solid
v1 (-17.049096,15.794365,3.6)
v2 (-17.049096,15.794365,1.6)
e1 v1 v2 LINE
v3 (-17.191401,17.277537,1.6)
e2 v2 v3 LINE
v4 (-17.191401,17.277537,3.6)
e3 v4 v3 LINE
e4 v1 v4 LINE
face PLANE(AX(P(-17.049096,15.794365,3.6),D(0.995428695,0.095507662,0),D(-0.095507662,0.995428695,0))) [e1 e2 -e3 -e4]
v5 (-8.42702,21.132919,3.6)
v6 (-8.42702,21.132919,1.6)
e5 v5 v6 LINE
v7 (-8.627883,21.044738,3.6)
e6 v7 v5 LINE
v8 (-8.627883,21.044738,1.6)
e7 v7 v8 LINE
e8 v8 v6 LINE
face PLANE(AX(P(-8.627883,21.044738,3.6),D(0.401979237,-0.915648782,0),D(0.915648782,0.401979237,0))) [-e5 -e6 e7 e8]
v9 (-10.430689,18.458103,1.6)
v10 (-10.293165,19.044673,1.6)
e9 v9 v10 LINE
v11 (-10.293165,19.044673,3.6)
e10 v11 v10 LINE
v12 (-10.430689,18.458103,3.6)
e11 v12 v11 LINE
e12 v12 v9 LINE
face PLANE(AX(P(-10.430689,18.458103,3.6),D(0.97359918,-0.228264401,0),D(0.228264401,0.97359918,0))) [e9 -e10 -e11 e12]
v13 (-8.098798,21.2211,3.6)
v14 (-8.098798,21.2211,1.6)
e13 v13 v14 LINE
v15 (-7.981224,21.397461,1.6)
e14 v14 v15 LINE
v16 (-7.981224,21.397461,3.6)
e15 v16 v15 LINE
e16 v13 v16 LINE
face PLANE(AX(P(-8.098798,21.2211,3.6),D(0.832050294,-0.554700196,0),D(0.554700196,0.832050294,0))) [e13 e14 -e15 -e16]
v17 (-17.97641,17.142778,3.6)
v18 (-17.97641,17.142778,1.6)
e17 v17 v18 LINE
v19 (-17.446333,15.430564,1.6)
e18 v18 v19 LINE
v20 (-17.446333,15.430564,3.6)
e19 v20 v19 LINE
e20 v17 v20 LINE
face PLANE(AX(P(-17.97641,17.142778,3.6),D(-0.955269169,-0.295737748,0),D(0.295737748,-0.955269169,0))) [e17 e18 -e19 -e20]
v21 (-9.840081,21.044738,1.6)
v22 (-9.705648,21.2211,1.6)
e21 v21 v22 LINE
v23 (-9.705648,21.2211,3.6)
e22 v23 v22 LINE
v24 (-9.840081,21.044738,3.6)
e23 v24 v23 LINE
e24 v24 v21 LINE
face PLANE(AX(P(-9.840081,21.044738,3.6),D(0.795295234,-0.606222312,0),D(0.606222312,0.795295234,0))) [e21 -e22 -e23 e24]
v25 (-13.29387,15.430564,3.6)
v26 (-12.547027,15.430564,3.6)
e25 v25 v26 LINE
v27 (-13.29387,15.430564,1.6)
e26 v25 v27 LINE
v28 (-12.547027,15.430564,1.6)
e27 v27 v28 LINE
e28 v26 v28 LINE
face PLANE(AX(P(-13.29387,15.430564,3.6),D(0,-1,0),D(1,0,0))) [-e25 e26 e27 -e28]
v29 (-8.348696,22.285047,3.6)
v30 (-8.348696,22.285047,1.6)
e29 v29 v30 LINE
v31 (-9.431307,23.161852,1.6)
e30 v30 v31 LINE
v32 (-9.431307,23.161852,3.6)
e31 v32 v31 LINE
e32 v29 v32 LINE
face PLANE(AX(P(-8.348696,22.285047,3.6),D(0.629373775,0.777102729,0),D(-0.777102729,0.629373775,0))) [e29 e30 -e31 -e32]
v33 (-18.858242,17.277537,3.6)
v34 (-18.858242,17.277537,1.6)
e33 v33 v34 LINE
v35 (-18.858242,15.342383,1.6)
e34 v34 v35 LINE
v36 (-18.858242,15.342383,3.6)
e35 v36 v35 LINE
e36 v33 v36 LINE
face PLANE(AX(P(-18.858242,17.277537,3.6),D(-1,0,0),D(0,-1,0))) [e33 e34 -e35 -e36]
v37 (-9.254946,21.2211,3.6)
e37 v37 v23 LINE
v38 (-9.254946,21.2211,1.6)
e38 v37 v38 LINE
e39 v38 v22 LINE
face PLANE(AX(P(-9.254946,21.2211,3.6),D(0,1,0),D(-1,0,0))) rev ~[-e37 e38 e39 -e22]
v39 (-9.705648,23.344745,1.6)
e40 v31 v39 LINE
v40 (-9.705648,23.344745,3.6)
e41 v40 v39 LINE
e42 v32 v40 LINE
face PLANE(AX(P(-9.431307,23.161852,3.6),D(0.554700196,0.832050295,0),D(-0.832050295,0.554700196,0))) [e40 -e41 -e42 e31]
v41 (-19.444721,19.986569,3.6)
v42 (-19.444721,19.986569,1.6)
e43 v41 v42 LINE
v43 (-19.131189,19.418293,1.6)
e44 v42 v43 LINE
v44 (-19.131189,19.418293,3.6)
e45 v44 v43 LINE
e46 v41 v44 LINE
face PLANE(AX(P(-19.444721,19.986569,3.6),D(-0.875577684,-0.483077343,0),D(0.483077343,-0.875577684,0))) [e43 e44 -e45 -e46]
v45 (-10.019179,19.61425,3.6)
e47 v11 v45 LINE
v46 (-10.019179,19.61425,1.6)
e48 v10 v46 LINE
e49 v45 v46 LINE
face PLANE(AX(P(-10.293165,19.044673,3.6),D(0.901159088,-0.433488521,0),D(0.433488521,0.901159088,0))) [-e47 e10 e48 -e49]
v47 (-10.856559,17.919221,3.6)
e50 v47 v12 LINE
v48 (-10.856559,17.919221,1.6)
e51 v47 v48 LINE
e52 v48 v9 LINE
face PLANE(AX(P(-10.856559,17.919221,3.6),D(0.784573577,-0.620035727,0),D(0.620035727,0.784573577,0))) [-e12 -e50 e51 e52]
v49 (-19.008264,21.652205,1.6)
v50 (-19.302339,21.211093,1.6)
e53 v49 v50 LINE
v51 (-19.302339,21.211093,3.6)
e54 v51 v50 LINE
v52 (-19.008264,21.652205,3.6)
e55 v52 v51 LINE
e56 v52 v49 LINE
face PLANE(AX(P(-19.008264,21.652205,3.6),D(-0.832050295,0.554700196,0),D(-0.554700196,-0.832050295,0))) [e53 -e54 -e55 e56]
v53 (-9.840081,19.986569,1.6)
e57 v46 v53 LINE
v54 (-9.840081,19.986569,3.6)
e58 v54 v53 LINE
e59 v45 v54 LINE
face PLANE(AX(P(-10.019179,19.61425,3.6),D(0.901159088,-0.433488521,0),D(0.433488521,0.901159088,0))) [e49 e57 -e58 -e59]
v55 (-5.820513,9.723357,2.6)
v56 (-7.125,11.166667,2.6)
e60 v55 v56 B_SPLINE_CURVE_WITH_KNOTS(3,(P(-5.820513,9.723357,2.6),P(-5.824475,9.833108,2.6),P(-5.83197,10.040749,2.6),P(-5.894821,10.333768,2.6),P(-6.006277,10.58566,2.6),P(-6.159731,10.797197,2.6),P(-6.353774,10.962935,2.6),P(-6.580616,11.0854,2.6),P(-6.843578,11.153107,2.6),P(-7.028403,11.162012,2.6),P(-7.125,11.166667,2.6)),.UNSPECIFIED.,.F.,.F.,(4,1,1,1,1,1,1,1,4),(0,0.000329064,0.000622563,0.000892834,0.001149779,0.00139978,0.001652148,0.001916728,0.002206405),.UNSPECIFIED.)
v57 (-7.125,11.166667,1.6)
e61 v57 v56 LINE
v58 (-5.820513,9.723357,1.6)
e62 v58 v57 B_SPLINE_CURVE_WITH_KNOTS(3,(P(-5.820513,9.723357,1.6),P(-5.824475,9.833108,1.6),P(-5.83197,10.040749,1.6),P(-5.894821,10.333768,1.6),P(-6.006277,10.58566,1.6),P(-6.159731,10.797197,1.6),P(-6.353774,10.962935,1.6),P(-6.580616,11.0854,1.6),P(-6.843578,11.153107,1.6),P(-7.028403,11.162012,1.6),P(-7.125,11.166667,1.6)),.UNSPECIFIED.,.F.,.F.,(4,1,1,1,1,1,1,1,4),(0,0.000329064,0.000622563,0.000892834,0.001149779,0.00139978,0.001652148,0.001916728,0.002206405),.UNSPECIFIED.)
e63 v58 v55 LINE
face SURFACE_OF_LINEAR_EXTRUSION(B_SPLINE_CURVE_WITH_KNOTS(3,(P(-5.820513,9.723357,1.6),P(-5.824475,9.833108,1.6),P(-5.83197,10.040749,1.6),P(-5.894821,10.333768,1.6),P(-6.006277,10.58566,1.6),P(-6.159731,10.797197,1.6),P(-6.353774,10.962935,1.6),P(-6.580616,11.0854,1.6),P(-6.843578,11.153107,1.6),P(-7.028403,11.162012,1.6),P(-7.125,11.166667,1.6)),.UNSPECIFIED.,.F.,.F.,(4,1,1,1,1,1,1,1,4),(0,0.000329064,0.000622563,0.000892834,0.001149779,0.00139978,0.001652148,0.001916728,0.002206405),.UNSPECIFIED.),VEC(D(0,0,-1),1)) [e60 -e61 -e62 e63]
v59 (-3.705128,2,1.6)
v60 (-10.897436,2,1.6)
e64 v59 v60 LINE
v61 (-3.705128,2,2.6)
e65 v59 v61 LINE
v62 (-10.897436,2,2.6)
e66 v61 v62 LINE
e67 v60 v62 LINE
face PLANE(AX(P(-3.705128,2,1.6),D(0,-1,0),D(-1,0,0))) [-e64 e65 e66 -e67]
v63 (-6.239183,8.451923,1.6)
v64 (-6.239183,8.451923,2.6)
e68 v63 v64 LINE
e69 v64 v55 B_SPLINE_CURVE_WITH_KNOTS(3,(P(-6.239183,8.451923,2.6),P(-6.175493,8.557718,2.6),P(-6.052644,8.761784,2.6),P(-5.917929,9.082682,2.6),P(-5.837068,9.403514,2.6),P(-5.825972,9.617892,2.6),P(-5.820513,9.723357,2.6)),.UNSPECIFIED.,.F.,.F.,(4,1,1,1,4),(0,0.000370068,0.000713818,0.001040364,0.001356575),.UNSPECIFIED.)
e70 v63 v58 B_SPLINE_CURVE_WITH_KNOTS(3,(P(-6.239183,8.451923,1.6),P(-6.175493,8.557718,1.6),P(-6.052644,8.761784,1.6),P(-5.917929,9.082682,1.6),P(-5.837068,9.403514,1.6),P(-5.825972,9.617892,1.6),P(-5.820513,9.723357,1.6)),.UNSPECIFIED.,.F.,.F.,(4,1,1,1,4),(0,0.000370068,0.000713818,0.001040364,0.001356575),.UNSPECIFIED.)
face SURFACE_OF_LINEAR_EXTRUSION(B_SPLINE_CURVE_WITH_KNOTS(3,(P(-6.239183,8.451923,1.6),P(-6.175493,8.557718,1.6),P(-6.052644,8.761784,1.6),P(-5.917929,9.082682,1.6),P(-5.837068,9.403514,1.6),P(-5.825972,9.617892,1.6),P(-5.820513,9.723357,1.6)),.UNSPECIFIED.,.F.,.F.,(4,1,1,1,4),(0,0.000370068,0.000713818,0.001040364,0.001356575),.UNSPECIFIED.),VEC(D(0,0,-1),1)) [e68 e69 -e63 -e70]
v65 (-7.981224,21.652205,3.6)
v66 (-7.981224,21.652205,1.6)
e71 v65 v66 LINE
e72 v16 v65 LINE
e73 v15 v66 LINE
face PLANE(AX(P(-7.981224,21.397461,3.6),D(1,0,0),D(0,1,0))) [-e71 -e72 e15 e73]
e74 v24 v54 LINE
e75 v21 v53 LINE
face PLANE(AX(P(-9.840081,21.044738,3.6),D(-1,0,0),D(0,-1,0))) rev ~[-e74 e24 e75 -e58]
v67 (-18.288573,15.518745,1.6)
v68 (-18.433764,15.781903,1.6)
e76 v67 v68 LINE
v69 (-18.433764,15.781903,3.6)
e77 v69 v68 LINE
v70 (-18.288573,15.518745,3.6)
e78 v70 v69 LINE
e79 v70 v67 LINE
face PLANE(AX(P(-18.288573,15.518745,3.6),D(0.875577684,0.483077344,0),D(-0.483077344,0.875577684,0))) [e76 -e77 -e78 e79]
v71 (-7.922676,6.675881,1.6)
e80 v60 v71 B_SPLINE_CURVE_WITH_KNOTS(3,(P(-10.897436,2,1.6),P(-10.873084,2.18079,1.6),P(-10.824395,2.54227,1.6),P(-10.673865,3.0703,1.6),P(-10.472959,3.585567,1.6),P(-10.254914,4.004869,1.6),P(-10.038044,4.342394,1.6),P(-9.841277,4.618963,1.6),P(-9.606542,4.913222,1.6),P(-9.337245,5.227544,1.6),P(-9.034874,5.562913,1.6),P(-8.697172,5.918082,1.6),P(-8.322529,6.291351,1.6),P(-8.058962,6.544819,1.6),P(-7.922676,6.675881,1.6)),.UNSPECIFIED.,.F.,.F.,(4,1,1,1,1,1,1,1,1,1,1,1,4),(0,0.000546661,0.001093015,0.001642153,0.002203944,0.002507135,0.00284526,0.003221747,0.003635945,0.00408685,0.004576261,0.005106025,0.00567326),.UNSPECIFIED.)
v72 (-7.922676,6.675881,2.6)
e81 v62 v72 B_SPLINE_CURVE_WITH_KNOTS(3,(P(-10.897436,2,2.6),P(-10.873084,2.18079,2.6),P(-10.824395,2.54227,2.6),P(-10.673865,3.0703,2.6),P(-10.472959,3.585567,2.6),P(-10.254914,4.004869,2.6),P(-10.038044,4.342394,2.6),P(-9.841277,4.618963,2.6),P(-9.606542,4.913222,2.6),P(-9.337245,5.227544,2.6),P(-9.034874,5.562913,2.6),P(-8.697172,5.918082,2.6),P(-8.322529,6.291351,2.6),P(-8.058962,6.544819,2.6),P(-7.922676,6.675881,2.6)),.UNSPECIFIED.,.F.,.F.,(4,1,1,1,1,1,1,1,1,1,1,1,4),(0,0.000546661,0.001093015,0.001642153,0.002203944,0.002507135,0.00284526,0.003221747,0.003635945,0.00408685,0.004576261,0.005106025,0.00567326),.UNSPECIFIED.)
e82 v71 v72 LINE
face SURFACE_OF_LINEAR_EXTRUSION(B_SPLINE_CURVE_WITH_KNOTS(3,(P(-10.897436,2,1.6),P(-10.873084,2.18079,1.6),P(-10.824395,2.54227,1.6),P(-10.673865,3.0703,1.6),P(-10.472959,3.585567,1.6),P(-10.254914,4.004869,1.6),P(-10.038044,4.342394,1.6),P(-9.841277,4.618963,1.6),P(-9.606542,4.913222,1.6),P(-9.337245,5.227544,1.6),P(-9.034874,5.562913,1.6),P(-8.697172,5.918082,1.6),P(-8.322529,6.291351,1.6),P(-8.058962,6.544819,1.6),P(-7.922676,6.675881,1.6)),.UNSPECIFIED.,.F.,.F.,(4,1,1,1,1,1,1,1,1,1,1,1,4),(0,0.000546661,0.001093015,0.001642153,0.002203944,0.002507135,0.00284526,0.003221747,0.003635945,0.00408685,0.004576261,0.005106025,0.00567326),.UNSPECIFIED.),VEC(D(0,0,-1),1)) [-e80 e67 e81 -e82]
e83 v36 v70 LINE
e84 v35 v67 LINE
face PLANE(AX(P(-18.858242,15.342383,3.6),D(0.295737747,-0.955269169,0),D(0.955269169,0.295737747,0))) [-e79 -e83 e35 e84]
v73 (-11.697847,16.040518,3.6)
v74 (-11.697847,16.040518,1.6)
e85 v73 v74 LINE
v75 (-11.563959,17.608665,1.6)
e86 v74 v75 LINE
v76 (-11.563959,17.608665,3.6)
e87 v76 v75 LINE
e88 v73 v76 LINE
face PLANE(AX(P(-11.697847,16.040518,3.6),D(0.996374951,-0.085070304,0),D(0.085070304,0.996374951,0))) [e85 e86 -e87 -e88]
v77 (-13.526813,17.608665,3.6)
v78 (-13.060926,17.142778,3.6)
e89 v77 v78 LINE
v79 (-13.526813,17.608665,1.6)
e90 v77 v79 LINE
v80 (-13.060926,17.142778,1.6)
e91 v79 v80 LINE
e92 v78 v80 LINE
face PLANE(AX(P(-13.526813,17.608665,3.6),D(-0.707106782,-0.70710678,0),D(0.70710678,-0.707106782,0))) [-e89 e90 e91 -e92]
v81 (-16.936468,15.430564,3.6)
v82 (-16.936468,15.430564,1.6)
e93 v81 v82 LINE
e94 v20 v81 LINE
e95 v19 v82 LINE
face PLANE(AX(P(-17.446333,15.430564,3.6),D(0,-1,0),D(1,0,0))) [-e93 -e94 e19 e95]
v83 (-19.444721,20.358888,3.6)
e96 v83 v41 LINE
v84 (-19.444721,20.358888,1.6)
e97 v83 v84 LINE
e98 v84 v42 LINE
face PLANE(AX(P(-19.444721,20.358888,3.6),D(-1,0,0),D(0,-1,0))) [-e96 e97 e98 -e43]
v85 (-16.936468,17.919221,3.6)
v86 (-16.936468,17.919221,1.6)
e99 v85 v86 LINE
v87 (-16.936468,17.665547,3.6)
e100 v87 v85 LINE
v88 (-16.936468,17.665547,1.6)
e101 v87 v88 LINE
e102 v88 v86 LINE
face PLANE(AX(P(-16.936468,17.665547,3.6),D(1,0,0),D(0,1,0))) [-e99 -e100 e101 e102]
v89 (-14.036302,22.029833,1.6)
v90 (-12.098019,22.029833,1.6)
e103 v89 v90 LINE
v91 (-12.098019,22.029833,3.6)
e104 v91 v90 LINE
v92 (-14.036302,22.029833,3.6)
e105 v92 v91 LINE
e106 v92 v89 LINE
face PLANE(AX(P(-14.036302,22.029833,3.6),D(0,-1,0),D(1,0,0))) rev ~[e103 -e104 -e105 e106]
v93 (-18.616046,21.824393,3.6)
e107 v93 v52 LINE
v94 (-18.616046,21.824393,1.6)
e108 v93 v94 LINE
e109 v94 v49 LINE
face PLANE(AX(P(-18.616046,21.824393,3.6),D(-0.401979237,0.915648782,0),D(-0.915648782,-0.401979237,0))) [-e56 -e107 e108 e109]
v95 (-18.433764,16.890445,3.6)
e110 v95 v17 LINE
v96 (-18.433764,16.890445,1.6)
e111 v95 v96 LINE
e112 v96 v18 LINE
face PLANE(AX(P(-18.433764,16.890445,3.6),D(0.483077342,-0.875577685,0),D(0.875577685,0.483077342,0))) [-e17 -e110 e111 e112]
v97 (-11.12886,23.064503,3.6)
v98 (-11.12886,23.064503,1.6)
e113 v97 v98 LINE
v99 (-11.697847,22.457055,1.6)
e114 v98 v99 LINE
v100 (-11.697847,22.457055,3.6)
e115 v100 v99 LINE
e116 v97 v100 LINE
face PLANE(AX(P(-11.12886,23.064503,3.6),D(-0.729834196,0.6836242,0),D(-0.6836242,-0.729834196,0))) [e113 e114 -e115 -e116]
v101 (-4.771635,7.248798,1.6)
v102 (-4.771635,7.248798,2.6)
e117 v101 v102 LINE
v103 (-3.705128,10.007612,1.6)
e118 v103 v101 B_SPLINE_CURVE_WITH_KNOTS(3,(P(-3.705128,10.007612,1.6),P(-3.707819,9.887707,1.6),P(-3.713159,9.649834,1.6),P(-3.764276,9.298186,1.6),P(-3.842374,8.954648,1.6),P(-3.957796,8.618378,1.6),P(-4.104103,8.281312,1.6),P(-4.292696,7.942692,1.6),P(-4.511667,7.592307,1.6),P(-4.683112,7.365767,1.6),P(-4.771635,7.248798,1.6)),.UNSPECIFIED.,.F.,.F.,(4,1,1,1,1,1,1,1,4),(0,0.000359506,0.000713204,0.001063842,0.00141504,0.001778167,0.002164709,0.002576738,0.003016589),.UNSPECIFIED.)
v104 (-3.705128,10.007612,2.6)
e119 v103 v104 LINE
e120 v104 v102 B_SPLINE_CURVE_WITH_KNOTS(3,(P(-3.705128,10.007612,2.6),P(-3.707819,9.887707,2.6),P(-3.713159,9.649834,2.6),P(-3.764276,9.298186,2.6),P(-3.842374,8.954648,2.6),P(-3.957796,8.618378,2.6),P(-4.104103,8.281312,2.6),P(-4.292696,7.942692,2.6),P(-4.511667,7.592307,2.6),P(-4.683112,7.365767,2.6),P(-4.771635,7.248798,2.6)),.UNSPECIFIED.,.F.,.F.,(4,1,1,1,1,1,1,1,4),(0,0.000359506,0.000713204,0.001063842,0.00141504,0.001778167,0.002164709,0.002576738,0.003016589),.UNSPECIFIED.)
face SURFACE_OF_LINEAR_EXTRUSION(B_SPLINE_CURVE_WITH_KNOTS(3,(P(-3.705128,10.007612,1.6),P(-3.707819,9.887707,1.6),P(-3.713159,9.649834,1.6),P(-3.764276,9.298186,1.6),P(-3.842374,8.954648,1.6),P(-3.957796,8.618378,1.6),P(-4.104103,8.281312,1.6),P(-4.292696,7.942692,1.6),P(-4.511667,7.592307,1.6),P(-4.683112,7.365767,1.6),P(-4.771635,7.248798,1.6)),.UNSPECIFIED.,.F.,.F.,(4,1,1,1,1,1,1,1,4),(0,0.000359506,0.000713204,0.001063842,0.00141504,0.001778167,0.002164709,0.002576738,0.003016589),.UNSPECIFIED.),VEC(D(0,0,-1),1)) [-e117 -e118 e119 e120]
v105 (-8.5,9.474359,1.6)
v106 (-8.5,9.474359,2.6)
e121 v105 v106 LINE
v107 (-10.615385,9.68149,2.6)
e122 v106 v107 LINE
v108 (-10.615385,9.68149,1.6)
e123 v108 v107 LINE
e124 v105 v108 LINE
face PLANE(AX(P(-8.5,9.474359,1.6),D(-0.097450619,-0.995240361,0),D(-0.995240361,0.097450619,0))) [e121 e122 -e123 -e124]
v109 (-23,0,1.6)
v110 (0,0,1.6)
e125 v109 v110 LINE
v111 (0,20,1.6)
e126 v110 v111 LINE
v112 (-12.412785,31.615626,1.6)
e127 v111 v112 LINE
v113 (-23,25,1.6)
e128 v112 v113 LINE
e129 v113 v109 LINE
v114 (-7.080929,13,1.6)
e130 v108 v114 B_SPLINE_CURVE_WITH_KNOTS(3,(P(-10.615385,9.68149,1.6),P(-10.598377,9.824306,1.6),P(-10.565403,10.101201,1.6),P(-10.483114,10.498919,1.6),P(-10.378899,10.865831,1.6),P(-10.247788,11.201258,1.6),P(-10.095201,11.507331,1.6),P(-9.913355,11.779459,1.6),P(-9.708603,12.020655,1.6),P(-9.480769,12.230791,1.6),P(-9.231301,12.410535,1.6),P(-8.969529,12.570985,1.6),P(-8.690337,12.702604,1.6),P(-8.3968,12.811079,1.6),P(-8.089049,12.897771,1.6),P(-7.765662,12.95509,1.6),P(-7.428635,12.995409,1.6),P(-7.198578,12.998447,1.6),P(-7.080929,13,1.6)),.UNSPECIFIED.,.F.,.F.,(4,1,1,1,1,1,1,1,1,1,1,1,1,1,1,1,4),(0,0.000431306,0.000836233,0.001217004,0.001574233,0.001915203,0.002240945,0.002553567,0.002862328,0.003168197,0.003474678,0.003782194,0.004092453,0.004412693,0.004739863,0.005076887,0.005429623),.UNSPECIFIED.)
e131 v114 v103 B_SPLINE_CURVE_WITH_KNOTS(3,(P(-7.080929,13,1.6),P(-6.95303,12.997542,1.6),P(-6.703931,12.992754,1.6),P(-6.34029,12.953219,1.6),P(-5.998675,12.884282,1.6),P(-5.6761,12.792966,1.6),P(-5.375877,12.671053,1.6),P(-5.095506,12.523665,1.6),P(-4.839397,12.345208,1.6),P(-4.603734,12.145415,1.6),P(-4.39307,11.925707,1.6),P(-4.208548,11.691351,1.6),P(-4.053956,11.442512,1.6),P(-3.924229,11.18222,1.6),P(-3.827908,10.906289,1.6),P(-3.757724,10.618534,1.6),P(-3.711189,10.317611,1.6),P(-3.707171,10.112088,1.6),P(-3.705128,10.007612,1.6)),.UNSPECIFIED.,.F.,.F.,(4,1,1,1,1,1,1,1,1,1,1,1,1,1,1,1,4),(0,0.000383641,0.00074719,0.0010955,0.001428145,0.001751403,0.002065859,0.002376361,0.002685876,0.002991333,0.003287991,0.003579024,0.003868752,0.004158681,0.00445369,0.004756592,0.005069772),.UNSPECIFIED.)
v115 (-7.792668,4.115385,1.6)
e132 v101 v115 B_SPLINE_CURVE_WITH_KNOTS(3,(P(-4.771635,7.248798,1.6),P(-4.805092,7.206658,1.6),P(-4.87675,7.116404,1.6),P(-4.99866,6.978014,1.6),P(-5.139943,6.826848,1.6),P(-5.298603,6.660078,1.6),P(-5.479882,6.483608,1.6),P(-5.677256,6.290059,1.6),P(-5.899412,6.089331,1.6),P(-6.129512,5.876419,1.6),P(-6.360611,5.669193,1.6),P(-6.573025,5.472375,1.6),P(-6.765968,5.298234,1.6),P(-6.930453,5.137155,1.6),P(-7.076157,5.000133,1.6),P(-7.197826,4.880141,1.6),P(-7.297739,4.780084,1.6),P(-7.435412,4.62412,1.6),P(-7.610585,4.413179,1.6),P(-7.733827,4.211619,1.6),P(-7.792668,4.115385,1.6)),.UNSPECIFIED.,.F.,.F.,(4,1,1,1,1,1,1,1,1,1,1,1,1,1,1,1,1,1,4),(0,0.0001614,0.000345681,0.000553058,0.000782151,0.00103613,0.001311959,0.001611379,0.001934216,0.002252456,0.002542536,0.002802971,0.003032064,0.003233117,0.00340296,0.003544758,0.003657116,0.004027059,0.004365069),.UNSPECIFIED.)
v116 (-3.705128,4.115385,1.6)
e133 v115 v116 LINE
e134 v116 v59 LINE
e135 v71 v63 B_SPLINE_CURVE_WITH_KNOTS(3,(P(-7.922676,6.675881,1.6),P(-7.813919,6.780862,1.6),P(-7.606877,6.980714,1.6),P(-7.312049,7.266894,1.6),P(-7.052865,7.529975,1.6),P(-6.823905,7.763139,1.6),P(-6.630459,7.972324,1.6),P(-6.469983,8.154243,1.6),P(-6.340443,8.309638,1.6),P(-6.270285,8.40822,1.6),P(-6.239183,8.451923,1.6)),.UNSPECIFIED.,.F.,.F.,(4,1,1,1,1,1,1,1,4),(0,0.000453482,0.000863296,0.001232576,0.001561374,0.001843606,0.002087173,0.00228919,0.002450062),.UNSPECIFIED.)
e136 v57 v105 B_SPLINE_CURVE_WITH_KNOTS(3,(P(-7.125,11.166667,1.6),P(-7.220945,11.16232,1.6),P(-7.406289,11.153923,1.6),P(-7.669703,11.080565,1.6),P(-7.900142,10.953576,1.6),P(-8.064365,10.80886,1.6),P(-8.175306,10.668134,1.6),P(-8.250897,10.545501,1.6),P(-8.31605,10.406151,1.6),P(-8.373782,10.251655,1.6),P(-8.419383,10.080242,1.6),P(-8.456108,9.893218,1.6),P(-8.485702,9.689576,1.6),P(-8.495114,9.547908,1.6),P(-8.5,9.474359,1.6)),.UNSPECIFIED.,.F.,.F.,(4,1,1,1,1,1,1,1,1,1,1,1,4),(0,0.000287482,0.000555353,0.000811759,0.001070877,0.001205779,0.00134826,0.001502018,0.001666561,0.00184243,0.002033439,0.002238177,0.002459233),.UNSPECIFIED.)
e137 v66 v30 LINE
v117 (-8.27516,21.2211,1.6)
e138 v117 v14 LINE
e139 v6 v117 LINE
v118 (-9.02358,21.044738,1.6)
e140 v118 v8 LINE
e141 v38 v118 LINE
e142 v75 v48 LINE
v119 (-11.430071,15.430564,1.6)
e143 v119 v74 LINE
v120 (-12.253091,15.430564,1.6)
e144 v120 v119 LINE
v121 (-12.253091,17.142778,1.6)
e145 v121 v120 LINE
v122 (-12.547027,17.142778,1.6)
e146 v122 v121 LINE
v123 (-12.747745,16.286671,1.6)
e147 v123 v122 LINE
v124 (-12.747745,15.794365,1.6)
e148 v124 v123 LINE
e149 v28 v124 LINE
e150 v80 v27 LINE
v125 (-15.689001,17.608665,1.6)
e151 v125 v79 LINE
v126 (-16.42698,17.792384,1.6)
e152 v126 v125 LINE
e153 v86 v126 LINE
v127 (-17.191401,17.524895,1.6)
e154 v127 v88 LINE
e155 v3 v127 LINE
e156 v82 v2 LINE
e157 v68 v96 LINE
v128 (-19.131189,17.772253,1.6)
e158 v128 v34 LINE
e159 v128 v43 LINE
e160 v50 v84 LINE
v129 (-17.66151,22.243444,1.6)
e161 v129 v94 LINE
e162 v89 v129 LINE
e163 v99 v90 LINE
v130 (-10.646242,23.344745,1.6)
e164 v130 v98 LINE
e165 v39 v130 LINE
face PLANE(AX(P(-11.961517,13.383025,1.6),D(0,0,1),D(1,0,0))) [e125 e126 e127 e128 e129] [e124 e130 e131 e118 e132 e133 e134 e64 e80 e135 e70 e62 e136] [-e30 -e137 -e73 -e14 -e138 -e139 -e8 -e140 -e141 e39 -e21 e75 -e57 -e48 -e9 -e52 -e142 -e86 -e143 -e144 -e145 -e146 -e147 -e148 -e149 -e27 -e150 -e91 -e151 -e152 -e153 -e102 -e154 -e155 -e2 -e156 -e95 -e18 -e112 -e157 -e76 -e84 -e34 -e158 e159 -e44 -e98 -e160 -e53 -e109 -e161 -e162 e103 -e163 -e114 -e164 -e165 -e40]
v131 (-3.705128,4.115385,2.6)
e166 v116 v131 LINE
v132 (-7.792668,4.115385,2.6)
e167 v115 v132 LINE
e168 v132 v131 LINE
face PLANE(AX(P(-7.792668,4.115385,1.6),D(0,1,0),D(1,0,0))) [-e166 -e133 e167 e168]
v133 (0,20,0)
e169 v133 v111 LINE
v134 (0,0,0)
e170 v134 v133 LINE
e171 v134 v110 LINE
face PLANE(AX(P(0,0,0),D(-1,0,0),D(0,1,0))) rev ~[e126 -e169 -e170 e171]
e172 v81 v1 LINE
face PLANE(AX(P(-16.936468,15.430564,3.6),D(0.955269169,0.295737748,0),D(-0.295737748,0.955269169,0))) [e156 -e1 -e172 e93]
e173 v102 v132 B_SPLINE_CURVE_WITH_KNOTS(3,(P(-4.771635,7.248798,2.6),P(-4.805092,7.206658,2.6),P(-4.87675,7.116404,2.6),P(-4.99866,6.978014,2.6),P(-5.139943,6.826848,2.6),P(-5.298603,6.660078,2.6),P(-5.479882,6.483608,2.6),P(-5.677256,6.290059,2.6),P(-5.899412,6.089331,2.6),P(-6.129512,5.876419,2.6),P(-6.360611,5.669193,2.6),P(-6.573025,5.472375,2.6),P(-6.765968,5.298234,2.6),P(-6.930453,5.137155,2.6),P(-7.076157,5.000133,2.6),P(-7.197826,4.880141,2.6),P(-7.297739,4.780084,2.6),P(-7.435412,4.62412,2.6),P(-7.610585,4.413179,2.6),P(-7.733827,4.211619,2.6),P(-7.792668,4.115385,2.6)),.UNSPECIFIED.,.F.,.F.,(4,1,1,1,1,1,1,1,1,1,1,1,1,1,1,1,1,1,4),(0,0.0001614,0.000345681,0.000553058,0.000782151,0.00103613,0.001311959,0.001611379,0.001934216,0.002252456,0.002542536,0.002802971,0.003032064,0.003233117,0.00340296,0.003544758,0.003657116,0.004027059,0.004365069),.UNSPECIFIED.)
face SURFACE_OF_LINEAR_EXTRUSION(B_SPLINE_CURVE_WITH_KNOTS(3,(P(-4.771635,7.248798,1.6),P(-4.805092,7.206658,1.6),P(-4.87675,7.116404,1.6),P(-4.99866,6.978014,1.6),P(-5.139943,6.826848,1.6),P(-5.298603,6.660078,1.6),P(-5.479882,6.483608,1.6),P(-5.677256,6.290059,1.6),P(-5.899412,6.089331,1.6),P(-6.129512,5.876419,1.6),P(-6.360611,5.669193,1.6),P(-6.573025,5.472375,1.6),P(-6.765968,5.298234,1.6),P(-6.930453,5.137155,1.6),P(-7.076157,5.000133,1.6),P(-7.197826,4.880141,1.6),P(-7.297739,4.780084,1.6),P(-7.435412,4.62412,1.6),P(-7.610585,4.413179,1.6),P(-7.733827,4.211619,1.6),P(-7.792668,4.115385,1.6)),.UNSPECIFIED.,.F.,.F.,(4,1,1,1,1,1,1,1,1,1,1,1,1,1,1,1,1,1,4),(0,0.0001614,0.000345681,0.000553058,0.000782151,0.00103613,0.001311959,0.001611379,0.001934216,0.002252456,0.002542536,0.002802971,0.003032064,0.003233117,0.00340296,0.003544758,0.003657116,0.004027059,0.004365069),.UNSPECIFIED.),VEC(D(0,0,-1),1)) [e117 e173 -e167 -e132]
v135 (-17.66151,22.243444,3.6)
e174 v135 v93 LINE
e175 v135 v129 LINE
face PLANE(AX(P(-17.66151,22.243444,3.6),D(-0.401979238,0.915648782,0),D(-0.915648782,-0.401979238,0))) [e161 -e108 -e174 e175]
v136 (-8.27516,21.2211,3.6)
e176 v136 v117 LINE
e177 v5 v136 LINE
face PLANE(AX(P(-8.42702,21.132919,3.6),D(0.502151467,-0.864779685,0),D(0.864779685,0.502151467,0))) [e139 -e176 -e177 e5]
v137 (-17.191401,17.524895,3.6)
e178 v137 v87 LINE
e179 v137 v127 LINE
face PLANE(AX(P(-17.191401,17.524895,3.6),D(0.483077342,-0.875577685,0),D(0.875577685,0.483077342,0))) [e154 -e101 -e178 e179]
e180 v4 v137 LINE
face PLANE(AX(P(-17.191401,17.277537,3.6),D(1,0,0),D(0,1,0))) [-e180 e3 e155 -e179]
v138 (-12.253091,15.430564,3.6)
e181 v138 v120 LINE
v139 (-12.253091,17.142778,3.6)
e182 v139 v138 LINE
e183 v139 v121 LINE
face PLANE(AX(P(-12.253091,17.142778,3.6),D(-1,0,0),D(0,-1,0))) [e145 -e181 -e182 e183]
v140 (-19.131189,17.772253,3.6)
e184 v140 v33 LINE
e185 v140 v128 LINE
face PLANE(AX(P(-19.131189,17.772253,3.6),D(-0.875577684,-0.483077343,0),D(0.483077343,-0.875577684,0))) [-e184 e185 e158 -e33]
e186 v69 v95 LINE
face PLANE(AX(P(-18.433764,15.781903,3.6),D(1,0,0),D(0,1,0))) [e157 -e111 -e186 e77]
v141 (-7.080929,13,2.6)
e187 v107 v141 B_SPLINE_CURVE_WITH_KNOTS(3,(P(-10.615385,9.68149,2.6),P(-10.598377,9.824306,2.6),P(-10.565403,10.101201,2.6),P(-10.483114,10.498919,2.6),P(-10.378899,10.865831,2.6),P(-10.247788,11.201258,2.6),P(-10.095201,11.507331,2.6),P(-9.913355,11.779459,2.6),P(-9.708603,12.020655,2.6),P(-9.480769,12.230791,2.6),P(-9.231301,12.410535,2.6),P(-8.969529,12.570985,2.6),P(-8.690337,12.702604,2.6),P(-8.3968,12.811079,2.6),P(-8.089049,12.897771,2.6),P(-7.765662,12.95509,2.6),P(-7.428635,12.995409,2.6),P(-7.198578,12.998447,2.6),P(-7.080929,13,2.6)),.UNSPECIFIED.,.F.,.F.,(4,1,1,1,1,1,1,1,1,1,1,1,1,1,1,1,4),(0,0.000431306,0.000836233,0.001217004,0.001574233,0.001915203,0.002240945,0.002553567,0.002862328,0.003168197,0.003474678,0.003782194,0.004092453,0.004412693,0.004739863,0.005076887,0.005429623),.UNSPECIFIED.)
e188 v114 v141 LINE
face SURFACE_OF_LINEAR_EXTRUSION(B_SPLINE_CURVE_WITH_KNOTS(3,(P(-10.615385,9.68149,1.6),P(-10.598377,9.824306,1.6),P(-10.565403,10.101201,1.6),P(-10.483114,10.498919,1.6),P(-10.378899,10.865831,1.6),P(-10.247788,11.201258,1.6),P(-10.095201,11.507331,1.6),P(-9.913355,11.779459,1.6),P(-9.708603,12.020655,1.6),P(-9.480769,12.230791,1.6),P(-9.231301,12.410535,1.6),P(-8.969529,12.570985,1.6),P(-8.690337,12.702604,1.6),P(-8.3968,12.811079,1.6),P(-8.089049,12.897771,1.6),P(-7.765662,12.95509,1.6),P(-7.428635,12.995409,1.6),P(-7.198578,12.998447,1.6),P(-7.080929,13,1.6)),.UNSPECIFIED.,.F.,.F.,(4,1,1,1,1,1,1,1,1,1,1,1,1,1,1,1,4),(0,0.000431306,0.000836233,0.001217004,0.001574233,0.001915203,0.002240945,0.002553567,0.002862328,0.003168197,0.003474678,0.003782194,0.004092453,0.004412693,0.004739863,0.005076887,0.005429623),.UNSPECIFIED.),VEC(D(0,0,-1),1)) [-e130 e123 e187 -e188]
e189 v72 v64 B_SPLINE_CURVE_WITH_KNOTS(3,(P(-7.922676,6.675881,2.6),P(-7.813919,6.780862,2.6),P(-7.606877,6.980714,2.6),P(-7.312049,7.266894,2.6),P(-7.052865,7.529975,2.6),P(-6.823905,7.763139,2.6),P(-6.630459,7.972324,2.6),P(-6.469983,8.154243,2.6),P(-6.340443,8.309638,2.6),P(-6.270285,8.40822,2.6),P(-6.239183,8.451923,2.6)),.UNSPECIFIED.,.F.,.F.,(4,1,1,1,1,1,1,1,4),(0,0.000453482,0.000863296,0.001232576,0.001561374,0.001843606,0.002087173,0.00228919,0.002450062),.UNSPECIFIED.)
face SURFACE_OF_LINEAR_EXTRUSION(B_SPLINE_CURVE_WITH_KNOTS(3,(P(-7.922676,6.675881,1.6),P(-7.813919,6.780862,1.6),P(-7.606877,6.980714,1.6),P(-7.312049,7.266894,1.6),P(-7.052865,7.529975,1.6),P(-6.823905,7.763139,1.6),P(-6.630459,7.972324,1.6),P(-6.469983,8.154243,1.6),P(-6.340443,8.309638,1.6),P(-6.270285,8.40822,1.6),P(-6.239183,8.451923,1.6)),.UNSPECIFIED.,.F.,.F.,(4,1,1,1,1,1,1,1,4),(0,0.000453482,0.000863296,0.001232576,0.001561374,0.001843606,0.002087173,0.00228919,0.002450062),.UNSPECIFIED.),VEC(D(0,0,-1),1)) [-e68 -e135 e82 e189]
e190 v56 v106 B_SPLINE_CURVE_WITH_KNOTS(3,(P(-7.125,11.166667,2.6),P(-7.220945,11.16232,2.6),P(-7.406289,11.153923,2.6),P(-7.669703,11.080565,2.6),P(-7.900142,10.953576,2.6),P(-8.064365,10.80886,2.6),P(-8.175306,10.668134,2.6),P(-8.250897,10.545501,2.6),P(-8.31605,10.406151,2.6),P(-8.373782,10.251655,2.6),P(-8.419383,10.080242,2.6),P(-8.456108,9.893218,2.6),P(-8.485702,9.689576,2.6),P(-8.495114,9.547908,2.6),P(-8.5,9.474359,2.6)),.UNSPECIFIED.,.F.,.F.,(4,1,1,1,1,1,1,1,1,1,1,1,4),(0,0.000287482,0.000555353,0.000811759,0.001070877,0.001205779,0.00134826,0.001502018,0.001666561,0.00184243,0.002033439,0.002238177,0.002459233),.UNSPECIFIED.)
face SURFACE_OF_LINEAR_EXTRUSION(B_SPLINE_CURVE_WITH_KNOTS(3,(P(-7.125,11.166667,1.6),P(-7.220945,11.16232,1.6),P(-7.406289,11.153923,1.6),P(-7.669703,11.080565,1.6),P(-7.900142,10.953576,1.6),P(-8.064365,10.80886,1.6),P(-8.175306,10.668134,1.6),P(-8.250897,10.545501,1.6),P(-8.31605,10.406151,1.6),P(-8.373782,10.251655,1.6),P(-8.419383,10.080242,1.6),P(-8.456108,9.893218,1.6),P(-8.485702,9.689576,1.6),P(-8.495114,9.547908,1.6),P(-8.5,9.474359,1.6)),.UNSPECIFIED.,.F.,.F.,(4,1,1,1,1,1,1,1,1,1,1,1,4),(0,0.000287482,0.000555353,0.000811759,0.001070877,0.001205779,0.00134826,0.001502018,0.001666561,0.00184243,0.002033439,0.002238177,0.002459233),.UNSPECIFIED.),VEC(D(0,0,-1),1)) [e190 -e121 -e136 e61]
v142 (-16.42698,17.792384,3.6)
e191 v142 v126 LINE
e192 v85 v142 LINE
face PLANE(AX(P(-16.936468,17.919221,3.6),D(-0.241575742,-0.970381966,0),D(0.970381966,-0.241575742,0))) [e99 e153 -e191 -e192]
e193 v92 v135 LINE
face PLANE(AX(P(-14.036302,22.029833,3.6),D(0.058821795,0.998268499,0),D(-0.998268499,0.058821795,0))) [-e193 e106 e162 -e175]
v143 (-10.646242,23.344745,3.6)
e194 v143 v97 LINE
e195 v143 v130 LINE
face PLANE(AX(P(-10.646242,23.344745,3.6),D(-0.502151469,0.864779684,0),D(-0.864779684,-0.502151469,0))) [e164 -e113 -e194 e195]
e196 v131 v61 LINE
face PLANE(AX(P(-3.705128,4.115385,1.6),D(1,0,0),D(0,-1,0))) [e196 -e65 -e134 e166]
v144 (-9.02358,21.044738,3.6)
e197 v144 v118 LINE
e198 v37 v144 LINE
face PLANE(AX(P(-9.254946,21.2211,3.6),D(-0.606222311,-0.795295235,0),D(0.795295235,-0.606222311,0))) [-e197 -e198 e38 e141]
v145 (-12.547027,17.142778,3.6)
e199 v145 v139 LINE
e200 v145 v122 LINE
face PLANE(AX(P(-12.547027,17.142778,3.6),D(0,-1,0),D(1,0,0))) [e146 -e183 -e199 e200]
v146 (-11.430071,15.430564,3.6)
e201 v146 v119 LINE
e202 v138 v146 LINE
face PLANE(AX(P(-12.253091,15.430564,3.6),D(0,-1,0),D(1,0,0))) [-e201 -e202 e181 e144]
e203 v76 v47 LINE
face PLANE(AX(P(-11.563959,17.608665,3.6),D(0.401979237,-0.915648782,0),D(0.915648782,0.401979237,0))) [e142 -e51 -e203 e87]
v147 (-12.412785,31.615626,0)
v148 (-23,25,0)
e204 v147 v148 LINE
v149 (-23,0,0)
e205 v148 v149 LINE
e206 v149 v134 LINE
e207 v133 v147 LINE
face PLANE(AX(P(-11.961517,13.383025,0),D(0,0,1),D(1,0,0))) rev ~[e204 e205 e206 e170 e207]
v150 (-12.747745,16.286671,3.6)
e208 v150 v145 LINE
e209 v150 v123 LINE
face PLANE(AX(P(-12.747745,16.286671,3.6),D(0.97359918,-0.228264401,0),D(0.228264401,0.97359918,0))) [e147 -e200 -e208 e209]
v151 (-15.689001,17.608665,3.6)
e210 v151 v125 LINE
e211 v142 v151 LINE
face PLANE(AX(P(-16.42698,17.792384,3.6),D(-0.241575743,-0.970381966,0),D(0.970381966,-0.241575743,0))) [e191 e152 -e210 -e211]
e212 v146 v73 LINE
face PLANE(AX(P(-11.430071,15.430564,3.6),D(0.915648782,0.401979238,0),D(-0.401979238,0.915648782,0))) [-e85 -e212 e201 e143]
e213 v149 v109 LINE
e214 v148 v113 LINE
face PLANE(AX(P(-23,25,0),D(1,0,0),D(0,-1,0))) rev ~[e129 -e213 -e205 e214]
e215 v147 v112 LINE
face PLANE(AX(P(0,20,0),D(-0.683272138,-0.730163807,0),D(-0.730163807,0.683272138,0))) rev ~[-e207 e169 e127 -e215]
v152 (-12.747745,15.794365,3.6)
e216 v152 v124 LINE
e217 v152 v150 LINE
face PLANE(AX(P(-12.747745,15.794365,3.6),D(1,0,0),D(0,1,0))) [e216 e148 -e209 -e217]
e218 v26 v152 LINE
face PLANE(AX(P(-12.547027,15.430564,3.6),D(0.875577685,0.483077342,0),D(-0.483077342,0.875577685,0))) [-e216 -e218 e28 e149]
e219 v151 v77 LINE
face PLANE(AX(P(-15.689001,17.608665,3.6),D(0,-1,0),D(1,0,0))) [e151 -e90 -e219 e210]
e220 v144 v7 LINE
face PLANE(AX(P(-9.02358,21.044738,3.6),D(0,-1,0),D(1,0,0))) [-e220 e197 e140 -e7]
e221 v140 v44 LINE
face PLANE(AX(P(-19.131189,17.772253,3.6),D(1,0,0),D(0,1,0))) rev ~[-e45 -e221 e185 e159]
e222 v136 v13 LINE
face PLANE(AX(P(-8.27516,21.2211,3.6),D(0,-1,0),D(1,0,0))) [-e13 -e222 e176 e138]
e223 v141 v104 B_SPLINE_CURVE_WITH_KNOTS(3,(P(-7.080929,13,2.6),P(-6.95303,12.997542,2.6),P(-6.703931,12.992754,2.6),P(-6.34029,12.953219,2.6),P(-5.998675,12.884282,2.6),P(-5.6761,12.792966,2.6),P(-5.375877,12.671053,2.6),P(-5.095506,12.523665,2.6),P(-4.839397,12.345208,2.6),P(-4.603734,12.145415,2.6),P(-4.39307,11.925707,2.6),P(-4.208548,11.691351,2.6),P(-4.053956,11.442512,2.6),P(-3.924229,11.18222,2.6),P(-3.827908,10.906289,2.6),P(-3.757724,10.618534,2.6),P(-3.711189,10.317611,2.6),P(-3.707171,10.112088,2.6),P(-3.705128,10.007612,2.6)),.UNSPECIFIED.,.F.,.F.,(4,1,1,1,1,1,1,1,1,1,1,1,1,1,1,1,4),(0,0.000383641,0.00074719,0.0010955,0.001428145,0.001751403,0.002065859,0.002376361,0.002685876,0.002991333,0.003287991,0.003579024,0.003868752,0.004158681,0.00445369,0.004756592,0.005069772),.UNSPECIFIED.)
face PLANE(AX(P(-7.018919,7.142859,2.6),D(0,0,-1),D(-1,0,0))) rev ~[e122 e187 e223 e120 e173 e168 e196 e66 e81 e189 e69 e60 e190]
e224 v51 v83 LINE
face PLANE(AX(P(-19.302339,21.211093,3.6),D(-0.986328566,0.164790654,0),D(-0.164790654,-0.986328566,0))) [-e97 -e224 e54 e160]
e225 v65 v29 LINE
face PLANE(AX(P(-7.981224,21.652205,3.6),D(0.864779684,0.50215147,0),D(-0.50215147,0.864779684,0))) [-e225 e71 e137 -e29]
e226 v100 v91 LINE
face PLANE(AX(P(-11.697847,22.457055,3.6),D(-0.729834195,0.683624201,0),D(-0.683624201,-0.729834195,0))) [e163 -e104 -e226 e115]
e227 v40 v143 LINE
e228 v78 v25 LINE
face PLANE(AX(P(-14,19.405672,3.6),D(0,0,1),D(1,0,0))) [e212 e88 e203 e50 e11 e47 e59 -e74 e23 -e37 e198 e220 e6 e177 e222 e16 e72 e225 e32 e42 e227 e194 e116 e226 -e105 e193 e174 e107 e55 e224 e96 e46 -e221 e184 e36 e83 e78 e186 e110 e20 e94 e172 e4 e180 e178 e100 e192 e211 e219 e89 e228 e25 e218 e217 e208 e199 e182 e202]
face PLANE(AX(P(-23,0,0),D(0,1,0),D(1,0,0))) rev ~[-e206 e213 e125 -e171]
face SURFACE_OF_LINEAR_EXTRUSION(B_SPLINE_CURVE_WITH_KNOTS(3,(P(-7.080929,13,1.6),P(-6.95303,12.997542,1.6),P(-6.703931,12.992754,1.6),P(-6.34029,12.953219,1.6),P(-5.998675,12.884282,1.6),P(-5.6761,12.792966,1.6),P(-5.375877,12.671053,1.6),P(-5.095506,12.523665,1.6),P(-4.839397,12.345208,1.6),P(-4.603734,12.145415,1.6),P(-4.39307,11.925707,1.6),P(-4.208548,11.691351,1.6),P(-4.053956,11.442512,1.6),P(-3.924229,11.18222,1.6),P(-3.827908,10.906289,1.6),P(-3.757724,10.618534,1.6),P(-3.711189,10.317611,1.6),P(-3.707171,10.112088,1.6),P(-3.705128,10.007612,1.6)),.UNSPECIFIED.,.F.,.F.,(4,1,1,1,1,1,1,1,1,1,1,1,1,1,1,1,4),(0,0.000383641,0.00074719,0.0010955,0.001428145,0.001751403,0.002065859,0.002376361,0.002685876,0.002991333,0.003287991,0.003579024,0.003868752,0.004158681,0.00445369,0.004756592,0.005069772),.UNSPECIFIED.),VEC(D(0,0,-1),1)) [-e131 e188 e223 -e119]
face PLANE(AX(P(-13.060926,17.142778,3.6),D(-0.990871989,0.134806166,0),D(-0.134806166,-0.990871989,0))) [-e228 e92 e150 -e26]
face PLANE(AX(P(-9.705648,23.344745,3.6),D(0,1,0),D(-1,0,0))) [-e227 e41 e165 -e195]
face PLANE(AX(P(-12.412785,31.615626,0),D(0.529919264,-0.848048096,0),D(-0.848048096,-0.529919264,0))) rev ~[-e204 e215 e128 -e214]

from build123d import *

# Parameters (mm, degrees)
P_IDAT_VYSUNUT_M5_DEPTH = 1.6
P_IDAT_VYSUNUT_M6_DEPTH = 1
SKETCH1_W               = 14
SKETCH1_H               = 8.811343348
BOSS_EXTRUDE1_DEPTH     = 2
SKETCH2_W               = 14
SKETCH2_H               = 8.811343348
CUT_EXTRUDE1_DEPTH      = 2


with BuildPart() as part:
    # Skica1 → Přidat vysunutím5 (new body)
    with BuildSketch(Plane.XY):
        Polygon((0, 0), (0, 20), (-12.412784718, 31.615626352), (-23, 25), (-23, 0), align=None)
    extrude(amount=P_IDAT_VYSUNUT_M5_DEPTH)

    # Skica2 → Přidat vysunutím6 (add)
    with BuildSketch(Plane.XY.offset(1.6)):
        with BuildLine():
            Line((-3.705128205, 4.115384615), (-3.705128205, 2))
            Line((-3.705128205, 2), (-10.897435897, 2))
            add(Edge.make_bspline(
                [(-10.897435897, 2), (-10.87308441, 2.180790308), (-10.824395089, 2.542269551), (-10.673865117, 3.070299742), (-10.472959166, 3.585566992), (-10.254913916, 4.004869463), (-10.038043764, 4.342393523), (-9.841277463, 4.618963346), (-9.60654249, 4.913221767), (-9.337245105, 5.227544267), (-9.034873554, 5.562913411), (-8.697171951, 5.918082368), (-8.322529407, 6.291350846), (-8.058961705, 6.54481851), (-7.922676282, 6.67588141)],
                knots=[0, 0, 0, 0, 0.000546661, 0.001093015, 0.001642153, 0.002203944, 0.002507135, 0.00284526, 0.003221747, 0.003635945, 0.00408685, 0.004576261, 0.005106025, 0.00567326, 0.00567326, 0.00567326, 0.00567326], degree=3))
            add(Edge.make_bspline(
                [(-7.922676282, 6.67588141), (-7.813918956, 6.780862005), (-7.606877039, 6.980714138), (-7.312048947, 7.266894293), (-7.052864674, 7.529975199), (-6.823905036, 7.763139303), (-6.630459323, 7.972323552), (-6.469982936, 8.154242742), (-6.34044346, 8.309637702), (-6.270284768, 8.408220362), (-6.239182692, 8.451923077)],
                knots=[0, 0, 0, 0, 0.000453482, 0.000863296, 0.001232576, 0.001561374, 0.001843606, 0.002087173, 0.00228919, 0.002450062, 0.002450062, 0.002450062, 0.002450062], degree=3))
            add(Edge.make_bspline(
                [(-6.239182692, 8.451923077), (-6.175493233, 8.557718073), (-6.052643645, 8.761784362), (-5.91792888, 9.082682292), (-5.837068057, 9.403513936), (-5.825971765, 9.617891805), (-5.820512821, 9.723357372)],
                knots=[0, 0, 0, 0, 0.000370068, 0.000713818, 0.001040364, 0.001356575, 0.001356575, 0.001356575, 0.001356575], degree=3))
            add(Edge.make_bspline(
                [(-5.820512821, 9.723357372), (-5.824474653, 9.833108474), (-5.831970132, 10.040748999), (-5.894821019, 10.333768175), (-6.006276867, 10.585659667), (-6.15973106, 10.797196661), (-6.353774193, 10.962935085), (-6.580616259, 11.085399693), (-6.843577862, 11.153106661), (-7.028402789, 11.16201224), (-7.125, 11.166666667)],
                knots=[0, 0, 0, 0, 0.000329064, 0.000622563, 0.000892834, 0.001149779, 0.00139978, 0.001652148, 0.001916728, 0.002206405, 0.002206405, 0.002206405, 0.002206405], degree=3))
            add(Edge.make_bspline(
                [(-7.125, 11.166666667), (-7.220944609, 11.16231978), (-7.406288878, 11.153922533), (-7.669703299, 11.080565334), (-7.900142302, 10.953576306), (-8.06436539, 10.808860058), (-8.175305876, 10.668134018), (-8.250896853, 10.545500545), (-8.316050374, 10.406151312), (-8.37378183, 10.251655158), (-8.419383153, 10.080242168), (-8.456107626, 9.893217825), (-8.485702239, 9.689575671), (-8.495113848, 9.547907653), (-8.5, 9.474358974)],
                knots=[0, 0, 0, 0, 0.000287482, 0.000555353, 0.000811759, 0.001070877, 0.001205779, 0.00134826, 0.001502018, 0.001666561, 0.00184243, 0.002033439, 0.002238177, 0.002459233, 0.002459233, 0.002459233, 0.002459233], degree=3))
            Line((-8.5, 9.474358974), (-10.615384615, 9.681490385))
            add(Edge.make_bspline(
                [(-10.615384615, 9.681490385), (-10.598377251, 9.824305509), (-10.565402688, 10.101201217), (-10.483114114, 10.498918926), (-10.378898684, 10.865831465), (-10.247788098, 11.201257911), (-10.095201314, 11.507331251), (-9.913355139, 11.779458664), (-9.708603468, 12.020654551), (-9.480769352, 12.230790543), (-9.231301205, 12.410535137), (-8.969529148, 12.57098477), (-8.690337423, 12.702604473), (-8.396799939, 12.811078884), (-8.089049352, 12.897770766), (-7.765662274, 12.955090263), (-7.42863453, 12.995409017), (-7.198577984, 12.998446608), (-7.080929487, 13)],
                knots=[0, 0, 0, 0, 0.000431306, 0.000836233, 0.001217004, 0.001574233, 0.001915203, 0.002240945, 0.002553567, 0.002862328, 0.003168197, 0.003474678, 0.003782194, 0.004092453, 0.004412693, 0.004739863, 0.005076887, 0.005429623, 0.005429623, 0.005429623, 0.005429623], degree=3))
            add(Edge.make_bspline(
                [(-7.080929487, 13), (-6.953030371, 12.997541845), (-6.703930784, 12.992754281), (-6.34028961, 12.953218534), (-5.998674853, 12.884282231), (-5.676099879, 12.79296634), (-5.375877361, 12.67105295), (-5.095505554, 12.52366473), (-4.83939702, 12.345207999), (-4.603734114, 12.145414763), (-4.393070332, 11.925706984), (-4.20854792, 11.691351493), (-4.053955652, 11.442511564), (-3.924228998, 11.182220281), (-3.827907833, 10.90628918), (-3.757724044, 10.618533633), (-3.711189366, 10.317611197), (-3.707170936, 10.112088), (-3.705128205, 10.007612179)],
                knots=[0, 0, 0, 0, 0.000383641, 0.00074719, 0.0010955, 0.001428145, 0.001751403, 0.002065859, 0.002376361, 0.002685876, 0.002991333, 0.003287991, 0.003579024, 0.003868752, 0.004158681, 0.00445369, 0.004756592, 0.005069772, 0.005069772, 0.005069772, 0.005069772], degree=3))
            add(Edge.make_bspline(
                [(-3.705128205, 10.007612179), (-3.707819477, 9.887707131), (-3.713158546, 9.649833916), (-3.764276175, 9.298186238), (-3.84237396, 8.954647512), (-3.957796338, 8.618378159), (-4.104103161, 8.28131186), (-4.292696164, 7.942692037), (-4.511666905, 7.592306518), (-4.683112364, 7.36576699), (-4.771634615, 7.248798077)],
                knots=[0, 0, 0, 0, 0.000359506, 0.000713204, 0.001063842, 0.00141504, 0.001778167, 0.002164709, 0.002576738, 0.003016589, 0.003016589, 0.003016589, 0.003016589], degree=3))
            add(Edge.make_bspline(
                [(-4.771634615, 7.248798077), (-4.80509214, 7.206658226), (-4.876750403, 7.116404431), (-4.998659939, 6.978014195), (-5.139942605, 6.826848432), (-5.298602846, 6.660077667), (-5.479881522, 6.483607708), (-5.677256214, 6.290058721), (-5.899411985, 6.089331377), (-6.12951153, 5.876418507), (-6.360611244, 5.669193404), (-6.5730252, 5.472375498), (-6.765967752, 5.298233923), (-6.930453202, 5.137155265), (-7.076156545, 5.000133027), (-7.197826149, 4.880140867), (-7.29773874, 4.780083699), (-7.43541186, 4.624119958), (-7.610585282, 4.413178934), (-7.733826947, 4.21161882), (-7.792668269, 4.115384615)],
                knots=[0, 0, 0, 0, 0.0001614, 0.000345681, 0.000553058, 0.000782151, 0.00103613, 0.001311959, 0.001611379, 0.001934216, 0.002252456, 0.002542536, 0.002802971, 0.003032064, 0.003233117, 0.00340296, 0.003544758, 0.003657116, 0.004027059, 0.004365069, 0.004365069, 0.004365069, 0.004365069], degree=3))
            Line((-7.792668269, 4.115384615), (-3.705128205, 4.115384615))
        make_face()
    extrude(amount=P_IDAT_VYSUNUT_M6_DEPTH)

    # Sketch1 → Boss-Extrude1 (add)
    with BuildSketch(Plane.XY.offset(1.6)):
        with Locations((-14, 19.405671674)):
            Rectangle(SKETCH1_W, SKETCH1_H)
    extrude(amount=BOSS_EXTRUDE1_DEPTH)

    # Sketch2 → Cut-Extrude1 (cut)
    with BuildSketch(Plane.XY.offset(3.6)):
        with Locations((-14, 19.405671674)):
            Rectangle(SKETCH2_W, SKETCH2_H)
        Polygon((-19.444720722, 20.35888782), (-19.444720722, 19.986569127), (-19.131189191, 19.418293227), (-19.131189191, 18.066188499), (-19.131189191, 17.772252689), (-18.858242416, 17.277536659), (-18.858242416, 15.342383323), (-18.288573201, 15.518744809), (-18.433763737, 15.781902655), (-18.433763737, 16.890445258), (-17.976410423, 17.14277812), (-17.446333305, 15.430564066), (-16.936468473, 15.430564066), (-17.049096134, 15.794365214), (-17.191400889, 17.277536659), (-17.191400889, 17.524894674), (-16.936468473, 17.665547041), (-16.936468473, 17.919220594), (-16.426979735, 17.792383818), (-15.689001428, 17.608664763), (-13.526813072, 17.608664763), (-13.06092643, 17.14277812), (-13.293869751, 15.430564066), (-12.547027038, 15.430564066), (-12.747744912, 15.794365214), (-12.747744912, 16.286671093), (-12.547027038, 17.14277812), (-12.253091227, 17.14277812), (-12.253091227, 15.430564066), (-11.430070958, 15.430564066), (-11.697847079, 16.040518153), (-11.563959019, 17.608664763), (-10.856559128, 17.919220594), (-10.430689203, 18.458102913), (-10.293165377, 19.044673063), (-10.019179068, 19.614250434), (-9.840080969, 19.986569127), (-9.840080969, 20.574440748), (-9.840080969, 21.044738045), (-9.705647537, 21.221099531), (-9.431307447, 21.221099531), (-9.254945961, 21.221099531), (-9.023579601, 21.044738045), (-8.627882899, 21.044738045), (-8.427020311, 21.132918788), (-8.275159926, 21.221099531), (-8.09879844, 21.221099531), (-7.981224116, 21.397461017), (-7.981224116, 21.652205386), (-8.348696256, 22.285047188), (-9.431307447, 23.161851588), (-9.705647537, 23.344744981), (-10.64624213, 23.344744981), (-11.128859966, 23.064503366), (-11.697847079, 22.457055221), (-12.098019445, 22.02983296), (-12.547027038, 22.02983296), (-14.03630181, 22.02983296), (-17.661510139, 22.24344409), (-18.61604593, 21.824393055), (-19.008263773, 21.652205386), (-19.30233871, 21.21109298), align=None, mode=Mode.SUBTRACT)
    extrude(amount=-CUT_EXTRUDE1_DEPTH, mode=Mode.SUBTRACT)


solid = part.part
